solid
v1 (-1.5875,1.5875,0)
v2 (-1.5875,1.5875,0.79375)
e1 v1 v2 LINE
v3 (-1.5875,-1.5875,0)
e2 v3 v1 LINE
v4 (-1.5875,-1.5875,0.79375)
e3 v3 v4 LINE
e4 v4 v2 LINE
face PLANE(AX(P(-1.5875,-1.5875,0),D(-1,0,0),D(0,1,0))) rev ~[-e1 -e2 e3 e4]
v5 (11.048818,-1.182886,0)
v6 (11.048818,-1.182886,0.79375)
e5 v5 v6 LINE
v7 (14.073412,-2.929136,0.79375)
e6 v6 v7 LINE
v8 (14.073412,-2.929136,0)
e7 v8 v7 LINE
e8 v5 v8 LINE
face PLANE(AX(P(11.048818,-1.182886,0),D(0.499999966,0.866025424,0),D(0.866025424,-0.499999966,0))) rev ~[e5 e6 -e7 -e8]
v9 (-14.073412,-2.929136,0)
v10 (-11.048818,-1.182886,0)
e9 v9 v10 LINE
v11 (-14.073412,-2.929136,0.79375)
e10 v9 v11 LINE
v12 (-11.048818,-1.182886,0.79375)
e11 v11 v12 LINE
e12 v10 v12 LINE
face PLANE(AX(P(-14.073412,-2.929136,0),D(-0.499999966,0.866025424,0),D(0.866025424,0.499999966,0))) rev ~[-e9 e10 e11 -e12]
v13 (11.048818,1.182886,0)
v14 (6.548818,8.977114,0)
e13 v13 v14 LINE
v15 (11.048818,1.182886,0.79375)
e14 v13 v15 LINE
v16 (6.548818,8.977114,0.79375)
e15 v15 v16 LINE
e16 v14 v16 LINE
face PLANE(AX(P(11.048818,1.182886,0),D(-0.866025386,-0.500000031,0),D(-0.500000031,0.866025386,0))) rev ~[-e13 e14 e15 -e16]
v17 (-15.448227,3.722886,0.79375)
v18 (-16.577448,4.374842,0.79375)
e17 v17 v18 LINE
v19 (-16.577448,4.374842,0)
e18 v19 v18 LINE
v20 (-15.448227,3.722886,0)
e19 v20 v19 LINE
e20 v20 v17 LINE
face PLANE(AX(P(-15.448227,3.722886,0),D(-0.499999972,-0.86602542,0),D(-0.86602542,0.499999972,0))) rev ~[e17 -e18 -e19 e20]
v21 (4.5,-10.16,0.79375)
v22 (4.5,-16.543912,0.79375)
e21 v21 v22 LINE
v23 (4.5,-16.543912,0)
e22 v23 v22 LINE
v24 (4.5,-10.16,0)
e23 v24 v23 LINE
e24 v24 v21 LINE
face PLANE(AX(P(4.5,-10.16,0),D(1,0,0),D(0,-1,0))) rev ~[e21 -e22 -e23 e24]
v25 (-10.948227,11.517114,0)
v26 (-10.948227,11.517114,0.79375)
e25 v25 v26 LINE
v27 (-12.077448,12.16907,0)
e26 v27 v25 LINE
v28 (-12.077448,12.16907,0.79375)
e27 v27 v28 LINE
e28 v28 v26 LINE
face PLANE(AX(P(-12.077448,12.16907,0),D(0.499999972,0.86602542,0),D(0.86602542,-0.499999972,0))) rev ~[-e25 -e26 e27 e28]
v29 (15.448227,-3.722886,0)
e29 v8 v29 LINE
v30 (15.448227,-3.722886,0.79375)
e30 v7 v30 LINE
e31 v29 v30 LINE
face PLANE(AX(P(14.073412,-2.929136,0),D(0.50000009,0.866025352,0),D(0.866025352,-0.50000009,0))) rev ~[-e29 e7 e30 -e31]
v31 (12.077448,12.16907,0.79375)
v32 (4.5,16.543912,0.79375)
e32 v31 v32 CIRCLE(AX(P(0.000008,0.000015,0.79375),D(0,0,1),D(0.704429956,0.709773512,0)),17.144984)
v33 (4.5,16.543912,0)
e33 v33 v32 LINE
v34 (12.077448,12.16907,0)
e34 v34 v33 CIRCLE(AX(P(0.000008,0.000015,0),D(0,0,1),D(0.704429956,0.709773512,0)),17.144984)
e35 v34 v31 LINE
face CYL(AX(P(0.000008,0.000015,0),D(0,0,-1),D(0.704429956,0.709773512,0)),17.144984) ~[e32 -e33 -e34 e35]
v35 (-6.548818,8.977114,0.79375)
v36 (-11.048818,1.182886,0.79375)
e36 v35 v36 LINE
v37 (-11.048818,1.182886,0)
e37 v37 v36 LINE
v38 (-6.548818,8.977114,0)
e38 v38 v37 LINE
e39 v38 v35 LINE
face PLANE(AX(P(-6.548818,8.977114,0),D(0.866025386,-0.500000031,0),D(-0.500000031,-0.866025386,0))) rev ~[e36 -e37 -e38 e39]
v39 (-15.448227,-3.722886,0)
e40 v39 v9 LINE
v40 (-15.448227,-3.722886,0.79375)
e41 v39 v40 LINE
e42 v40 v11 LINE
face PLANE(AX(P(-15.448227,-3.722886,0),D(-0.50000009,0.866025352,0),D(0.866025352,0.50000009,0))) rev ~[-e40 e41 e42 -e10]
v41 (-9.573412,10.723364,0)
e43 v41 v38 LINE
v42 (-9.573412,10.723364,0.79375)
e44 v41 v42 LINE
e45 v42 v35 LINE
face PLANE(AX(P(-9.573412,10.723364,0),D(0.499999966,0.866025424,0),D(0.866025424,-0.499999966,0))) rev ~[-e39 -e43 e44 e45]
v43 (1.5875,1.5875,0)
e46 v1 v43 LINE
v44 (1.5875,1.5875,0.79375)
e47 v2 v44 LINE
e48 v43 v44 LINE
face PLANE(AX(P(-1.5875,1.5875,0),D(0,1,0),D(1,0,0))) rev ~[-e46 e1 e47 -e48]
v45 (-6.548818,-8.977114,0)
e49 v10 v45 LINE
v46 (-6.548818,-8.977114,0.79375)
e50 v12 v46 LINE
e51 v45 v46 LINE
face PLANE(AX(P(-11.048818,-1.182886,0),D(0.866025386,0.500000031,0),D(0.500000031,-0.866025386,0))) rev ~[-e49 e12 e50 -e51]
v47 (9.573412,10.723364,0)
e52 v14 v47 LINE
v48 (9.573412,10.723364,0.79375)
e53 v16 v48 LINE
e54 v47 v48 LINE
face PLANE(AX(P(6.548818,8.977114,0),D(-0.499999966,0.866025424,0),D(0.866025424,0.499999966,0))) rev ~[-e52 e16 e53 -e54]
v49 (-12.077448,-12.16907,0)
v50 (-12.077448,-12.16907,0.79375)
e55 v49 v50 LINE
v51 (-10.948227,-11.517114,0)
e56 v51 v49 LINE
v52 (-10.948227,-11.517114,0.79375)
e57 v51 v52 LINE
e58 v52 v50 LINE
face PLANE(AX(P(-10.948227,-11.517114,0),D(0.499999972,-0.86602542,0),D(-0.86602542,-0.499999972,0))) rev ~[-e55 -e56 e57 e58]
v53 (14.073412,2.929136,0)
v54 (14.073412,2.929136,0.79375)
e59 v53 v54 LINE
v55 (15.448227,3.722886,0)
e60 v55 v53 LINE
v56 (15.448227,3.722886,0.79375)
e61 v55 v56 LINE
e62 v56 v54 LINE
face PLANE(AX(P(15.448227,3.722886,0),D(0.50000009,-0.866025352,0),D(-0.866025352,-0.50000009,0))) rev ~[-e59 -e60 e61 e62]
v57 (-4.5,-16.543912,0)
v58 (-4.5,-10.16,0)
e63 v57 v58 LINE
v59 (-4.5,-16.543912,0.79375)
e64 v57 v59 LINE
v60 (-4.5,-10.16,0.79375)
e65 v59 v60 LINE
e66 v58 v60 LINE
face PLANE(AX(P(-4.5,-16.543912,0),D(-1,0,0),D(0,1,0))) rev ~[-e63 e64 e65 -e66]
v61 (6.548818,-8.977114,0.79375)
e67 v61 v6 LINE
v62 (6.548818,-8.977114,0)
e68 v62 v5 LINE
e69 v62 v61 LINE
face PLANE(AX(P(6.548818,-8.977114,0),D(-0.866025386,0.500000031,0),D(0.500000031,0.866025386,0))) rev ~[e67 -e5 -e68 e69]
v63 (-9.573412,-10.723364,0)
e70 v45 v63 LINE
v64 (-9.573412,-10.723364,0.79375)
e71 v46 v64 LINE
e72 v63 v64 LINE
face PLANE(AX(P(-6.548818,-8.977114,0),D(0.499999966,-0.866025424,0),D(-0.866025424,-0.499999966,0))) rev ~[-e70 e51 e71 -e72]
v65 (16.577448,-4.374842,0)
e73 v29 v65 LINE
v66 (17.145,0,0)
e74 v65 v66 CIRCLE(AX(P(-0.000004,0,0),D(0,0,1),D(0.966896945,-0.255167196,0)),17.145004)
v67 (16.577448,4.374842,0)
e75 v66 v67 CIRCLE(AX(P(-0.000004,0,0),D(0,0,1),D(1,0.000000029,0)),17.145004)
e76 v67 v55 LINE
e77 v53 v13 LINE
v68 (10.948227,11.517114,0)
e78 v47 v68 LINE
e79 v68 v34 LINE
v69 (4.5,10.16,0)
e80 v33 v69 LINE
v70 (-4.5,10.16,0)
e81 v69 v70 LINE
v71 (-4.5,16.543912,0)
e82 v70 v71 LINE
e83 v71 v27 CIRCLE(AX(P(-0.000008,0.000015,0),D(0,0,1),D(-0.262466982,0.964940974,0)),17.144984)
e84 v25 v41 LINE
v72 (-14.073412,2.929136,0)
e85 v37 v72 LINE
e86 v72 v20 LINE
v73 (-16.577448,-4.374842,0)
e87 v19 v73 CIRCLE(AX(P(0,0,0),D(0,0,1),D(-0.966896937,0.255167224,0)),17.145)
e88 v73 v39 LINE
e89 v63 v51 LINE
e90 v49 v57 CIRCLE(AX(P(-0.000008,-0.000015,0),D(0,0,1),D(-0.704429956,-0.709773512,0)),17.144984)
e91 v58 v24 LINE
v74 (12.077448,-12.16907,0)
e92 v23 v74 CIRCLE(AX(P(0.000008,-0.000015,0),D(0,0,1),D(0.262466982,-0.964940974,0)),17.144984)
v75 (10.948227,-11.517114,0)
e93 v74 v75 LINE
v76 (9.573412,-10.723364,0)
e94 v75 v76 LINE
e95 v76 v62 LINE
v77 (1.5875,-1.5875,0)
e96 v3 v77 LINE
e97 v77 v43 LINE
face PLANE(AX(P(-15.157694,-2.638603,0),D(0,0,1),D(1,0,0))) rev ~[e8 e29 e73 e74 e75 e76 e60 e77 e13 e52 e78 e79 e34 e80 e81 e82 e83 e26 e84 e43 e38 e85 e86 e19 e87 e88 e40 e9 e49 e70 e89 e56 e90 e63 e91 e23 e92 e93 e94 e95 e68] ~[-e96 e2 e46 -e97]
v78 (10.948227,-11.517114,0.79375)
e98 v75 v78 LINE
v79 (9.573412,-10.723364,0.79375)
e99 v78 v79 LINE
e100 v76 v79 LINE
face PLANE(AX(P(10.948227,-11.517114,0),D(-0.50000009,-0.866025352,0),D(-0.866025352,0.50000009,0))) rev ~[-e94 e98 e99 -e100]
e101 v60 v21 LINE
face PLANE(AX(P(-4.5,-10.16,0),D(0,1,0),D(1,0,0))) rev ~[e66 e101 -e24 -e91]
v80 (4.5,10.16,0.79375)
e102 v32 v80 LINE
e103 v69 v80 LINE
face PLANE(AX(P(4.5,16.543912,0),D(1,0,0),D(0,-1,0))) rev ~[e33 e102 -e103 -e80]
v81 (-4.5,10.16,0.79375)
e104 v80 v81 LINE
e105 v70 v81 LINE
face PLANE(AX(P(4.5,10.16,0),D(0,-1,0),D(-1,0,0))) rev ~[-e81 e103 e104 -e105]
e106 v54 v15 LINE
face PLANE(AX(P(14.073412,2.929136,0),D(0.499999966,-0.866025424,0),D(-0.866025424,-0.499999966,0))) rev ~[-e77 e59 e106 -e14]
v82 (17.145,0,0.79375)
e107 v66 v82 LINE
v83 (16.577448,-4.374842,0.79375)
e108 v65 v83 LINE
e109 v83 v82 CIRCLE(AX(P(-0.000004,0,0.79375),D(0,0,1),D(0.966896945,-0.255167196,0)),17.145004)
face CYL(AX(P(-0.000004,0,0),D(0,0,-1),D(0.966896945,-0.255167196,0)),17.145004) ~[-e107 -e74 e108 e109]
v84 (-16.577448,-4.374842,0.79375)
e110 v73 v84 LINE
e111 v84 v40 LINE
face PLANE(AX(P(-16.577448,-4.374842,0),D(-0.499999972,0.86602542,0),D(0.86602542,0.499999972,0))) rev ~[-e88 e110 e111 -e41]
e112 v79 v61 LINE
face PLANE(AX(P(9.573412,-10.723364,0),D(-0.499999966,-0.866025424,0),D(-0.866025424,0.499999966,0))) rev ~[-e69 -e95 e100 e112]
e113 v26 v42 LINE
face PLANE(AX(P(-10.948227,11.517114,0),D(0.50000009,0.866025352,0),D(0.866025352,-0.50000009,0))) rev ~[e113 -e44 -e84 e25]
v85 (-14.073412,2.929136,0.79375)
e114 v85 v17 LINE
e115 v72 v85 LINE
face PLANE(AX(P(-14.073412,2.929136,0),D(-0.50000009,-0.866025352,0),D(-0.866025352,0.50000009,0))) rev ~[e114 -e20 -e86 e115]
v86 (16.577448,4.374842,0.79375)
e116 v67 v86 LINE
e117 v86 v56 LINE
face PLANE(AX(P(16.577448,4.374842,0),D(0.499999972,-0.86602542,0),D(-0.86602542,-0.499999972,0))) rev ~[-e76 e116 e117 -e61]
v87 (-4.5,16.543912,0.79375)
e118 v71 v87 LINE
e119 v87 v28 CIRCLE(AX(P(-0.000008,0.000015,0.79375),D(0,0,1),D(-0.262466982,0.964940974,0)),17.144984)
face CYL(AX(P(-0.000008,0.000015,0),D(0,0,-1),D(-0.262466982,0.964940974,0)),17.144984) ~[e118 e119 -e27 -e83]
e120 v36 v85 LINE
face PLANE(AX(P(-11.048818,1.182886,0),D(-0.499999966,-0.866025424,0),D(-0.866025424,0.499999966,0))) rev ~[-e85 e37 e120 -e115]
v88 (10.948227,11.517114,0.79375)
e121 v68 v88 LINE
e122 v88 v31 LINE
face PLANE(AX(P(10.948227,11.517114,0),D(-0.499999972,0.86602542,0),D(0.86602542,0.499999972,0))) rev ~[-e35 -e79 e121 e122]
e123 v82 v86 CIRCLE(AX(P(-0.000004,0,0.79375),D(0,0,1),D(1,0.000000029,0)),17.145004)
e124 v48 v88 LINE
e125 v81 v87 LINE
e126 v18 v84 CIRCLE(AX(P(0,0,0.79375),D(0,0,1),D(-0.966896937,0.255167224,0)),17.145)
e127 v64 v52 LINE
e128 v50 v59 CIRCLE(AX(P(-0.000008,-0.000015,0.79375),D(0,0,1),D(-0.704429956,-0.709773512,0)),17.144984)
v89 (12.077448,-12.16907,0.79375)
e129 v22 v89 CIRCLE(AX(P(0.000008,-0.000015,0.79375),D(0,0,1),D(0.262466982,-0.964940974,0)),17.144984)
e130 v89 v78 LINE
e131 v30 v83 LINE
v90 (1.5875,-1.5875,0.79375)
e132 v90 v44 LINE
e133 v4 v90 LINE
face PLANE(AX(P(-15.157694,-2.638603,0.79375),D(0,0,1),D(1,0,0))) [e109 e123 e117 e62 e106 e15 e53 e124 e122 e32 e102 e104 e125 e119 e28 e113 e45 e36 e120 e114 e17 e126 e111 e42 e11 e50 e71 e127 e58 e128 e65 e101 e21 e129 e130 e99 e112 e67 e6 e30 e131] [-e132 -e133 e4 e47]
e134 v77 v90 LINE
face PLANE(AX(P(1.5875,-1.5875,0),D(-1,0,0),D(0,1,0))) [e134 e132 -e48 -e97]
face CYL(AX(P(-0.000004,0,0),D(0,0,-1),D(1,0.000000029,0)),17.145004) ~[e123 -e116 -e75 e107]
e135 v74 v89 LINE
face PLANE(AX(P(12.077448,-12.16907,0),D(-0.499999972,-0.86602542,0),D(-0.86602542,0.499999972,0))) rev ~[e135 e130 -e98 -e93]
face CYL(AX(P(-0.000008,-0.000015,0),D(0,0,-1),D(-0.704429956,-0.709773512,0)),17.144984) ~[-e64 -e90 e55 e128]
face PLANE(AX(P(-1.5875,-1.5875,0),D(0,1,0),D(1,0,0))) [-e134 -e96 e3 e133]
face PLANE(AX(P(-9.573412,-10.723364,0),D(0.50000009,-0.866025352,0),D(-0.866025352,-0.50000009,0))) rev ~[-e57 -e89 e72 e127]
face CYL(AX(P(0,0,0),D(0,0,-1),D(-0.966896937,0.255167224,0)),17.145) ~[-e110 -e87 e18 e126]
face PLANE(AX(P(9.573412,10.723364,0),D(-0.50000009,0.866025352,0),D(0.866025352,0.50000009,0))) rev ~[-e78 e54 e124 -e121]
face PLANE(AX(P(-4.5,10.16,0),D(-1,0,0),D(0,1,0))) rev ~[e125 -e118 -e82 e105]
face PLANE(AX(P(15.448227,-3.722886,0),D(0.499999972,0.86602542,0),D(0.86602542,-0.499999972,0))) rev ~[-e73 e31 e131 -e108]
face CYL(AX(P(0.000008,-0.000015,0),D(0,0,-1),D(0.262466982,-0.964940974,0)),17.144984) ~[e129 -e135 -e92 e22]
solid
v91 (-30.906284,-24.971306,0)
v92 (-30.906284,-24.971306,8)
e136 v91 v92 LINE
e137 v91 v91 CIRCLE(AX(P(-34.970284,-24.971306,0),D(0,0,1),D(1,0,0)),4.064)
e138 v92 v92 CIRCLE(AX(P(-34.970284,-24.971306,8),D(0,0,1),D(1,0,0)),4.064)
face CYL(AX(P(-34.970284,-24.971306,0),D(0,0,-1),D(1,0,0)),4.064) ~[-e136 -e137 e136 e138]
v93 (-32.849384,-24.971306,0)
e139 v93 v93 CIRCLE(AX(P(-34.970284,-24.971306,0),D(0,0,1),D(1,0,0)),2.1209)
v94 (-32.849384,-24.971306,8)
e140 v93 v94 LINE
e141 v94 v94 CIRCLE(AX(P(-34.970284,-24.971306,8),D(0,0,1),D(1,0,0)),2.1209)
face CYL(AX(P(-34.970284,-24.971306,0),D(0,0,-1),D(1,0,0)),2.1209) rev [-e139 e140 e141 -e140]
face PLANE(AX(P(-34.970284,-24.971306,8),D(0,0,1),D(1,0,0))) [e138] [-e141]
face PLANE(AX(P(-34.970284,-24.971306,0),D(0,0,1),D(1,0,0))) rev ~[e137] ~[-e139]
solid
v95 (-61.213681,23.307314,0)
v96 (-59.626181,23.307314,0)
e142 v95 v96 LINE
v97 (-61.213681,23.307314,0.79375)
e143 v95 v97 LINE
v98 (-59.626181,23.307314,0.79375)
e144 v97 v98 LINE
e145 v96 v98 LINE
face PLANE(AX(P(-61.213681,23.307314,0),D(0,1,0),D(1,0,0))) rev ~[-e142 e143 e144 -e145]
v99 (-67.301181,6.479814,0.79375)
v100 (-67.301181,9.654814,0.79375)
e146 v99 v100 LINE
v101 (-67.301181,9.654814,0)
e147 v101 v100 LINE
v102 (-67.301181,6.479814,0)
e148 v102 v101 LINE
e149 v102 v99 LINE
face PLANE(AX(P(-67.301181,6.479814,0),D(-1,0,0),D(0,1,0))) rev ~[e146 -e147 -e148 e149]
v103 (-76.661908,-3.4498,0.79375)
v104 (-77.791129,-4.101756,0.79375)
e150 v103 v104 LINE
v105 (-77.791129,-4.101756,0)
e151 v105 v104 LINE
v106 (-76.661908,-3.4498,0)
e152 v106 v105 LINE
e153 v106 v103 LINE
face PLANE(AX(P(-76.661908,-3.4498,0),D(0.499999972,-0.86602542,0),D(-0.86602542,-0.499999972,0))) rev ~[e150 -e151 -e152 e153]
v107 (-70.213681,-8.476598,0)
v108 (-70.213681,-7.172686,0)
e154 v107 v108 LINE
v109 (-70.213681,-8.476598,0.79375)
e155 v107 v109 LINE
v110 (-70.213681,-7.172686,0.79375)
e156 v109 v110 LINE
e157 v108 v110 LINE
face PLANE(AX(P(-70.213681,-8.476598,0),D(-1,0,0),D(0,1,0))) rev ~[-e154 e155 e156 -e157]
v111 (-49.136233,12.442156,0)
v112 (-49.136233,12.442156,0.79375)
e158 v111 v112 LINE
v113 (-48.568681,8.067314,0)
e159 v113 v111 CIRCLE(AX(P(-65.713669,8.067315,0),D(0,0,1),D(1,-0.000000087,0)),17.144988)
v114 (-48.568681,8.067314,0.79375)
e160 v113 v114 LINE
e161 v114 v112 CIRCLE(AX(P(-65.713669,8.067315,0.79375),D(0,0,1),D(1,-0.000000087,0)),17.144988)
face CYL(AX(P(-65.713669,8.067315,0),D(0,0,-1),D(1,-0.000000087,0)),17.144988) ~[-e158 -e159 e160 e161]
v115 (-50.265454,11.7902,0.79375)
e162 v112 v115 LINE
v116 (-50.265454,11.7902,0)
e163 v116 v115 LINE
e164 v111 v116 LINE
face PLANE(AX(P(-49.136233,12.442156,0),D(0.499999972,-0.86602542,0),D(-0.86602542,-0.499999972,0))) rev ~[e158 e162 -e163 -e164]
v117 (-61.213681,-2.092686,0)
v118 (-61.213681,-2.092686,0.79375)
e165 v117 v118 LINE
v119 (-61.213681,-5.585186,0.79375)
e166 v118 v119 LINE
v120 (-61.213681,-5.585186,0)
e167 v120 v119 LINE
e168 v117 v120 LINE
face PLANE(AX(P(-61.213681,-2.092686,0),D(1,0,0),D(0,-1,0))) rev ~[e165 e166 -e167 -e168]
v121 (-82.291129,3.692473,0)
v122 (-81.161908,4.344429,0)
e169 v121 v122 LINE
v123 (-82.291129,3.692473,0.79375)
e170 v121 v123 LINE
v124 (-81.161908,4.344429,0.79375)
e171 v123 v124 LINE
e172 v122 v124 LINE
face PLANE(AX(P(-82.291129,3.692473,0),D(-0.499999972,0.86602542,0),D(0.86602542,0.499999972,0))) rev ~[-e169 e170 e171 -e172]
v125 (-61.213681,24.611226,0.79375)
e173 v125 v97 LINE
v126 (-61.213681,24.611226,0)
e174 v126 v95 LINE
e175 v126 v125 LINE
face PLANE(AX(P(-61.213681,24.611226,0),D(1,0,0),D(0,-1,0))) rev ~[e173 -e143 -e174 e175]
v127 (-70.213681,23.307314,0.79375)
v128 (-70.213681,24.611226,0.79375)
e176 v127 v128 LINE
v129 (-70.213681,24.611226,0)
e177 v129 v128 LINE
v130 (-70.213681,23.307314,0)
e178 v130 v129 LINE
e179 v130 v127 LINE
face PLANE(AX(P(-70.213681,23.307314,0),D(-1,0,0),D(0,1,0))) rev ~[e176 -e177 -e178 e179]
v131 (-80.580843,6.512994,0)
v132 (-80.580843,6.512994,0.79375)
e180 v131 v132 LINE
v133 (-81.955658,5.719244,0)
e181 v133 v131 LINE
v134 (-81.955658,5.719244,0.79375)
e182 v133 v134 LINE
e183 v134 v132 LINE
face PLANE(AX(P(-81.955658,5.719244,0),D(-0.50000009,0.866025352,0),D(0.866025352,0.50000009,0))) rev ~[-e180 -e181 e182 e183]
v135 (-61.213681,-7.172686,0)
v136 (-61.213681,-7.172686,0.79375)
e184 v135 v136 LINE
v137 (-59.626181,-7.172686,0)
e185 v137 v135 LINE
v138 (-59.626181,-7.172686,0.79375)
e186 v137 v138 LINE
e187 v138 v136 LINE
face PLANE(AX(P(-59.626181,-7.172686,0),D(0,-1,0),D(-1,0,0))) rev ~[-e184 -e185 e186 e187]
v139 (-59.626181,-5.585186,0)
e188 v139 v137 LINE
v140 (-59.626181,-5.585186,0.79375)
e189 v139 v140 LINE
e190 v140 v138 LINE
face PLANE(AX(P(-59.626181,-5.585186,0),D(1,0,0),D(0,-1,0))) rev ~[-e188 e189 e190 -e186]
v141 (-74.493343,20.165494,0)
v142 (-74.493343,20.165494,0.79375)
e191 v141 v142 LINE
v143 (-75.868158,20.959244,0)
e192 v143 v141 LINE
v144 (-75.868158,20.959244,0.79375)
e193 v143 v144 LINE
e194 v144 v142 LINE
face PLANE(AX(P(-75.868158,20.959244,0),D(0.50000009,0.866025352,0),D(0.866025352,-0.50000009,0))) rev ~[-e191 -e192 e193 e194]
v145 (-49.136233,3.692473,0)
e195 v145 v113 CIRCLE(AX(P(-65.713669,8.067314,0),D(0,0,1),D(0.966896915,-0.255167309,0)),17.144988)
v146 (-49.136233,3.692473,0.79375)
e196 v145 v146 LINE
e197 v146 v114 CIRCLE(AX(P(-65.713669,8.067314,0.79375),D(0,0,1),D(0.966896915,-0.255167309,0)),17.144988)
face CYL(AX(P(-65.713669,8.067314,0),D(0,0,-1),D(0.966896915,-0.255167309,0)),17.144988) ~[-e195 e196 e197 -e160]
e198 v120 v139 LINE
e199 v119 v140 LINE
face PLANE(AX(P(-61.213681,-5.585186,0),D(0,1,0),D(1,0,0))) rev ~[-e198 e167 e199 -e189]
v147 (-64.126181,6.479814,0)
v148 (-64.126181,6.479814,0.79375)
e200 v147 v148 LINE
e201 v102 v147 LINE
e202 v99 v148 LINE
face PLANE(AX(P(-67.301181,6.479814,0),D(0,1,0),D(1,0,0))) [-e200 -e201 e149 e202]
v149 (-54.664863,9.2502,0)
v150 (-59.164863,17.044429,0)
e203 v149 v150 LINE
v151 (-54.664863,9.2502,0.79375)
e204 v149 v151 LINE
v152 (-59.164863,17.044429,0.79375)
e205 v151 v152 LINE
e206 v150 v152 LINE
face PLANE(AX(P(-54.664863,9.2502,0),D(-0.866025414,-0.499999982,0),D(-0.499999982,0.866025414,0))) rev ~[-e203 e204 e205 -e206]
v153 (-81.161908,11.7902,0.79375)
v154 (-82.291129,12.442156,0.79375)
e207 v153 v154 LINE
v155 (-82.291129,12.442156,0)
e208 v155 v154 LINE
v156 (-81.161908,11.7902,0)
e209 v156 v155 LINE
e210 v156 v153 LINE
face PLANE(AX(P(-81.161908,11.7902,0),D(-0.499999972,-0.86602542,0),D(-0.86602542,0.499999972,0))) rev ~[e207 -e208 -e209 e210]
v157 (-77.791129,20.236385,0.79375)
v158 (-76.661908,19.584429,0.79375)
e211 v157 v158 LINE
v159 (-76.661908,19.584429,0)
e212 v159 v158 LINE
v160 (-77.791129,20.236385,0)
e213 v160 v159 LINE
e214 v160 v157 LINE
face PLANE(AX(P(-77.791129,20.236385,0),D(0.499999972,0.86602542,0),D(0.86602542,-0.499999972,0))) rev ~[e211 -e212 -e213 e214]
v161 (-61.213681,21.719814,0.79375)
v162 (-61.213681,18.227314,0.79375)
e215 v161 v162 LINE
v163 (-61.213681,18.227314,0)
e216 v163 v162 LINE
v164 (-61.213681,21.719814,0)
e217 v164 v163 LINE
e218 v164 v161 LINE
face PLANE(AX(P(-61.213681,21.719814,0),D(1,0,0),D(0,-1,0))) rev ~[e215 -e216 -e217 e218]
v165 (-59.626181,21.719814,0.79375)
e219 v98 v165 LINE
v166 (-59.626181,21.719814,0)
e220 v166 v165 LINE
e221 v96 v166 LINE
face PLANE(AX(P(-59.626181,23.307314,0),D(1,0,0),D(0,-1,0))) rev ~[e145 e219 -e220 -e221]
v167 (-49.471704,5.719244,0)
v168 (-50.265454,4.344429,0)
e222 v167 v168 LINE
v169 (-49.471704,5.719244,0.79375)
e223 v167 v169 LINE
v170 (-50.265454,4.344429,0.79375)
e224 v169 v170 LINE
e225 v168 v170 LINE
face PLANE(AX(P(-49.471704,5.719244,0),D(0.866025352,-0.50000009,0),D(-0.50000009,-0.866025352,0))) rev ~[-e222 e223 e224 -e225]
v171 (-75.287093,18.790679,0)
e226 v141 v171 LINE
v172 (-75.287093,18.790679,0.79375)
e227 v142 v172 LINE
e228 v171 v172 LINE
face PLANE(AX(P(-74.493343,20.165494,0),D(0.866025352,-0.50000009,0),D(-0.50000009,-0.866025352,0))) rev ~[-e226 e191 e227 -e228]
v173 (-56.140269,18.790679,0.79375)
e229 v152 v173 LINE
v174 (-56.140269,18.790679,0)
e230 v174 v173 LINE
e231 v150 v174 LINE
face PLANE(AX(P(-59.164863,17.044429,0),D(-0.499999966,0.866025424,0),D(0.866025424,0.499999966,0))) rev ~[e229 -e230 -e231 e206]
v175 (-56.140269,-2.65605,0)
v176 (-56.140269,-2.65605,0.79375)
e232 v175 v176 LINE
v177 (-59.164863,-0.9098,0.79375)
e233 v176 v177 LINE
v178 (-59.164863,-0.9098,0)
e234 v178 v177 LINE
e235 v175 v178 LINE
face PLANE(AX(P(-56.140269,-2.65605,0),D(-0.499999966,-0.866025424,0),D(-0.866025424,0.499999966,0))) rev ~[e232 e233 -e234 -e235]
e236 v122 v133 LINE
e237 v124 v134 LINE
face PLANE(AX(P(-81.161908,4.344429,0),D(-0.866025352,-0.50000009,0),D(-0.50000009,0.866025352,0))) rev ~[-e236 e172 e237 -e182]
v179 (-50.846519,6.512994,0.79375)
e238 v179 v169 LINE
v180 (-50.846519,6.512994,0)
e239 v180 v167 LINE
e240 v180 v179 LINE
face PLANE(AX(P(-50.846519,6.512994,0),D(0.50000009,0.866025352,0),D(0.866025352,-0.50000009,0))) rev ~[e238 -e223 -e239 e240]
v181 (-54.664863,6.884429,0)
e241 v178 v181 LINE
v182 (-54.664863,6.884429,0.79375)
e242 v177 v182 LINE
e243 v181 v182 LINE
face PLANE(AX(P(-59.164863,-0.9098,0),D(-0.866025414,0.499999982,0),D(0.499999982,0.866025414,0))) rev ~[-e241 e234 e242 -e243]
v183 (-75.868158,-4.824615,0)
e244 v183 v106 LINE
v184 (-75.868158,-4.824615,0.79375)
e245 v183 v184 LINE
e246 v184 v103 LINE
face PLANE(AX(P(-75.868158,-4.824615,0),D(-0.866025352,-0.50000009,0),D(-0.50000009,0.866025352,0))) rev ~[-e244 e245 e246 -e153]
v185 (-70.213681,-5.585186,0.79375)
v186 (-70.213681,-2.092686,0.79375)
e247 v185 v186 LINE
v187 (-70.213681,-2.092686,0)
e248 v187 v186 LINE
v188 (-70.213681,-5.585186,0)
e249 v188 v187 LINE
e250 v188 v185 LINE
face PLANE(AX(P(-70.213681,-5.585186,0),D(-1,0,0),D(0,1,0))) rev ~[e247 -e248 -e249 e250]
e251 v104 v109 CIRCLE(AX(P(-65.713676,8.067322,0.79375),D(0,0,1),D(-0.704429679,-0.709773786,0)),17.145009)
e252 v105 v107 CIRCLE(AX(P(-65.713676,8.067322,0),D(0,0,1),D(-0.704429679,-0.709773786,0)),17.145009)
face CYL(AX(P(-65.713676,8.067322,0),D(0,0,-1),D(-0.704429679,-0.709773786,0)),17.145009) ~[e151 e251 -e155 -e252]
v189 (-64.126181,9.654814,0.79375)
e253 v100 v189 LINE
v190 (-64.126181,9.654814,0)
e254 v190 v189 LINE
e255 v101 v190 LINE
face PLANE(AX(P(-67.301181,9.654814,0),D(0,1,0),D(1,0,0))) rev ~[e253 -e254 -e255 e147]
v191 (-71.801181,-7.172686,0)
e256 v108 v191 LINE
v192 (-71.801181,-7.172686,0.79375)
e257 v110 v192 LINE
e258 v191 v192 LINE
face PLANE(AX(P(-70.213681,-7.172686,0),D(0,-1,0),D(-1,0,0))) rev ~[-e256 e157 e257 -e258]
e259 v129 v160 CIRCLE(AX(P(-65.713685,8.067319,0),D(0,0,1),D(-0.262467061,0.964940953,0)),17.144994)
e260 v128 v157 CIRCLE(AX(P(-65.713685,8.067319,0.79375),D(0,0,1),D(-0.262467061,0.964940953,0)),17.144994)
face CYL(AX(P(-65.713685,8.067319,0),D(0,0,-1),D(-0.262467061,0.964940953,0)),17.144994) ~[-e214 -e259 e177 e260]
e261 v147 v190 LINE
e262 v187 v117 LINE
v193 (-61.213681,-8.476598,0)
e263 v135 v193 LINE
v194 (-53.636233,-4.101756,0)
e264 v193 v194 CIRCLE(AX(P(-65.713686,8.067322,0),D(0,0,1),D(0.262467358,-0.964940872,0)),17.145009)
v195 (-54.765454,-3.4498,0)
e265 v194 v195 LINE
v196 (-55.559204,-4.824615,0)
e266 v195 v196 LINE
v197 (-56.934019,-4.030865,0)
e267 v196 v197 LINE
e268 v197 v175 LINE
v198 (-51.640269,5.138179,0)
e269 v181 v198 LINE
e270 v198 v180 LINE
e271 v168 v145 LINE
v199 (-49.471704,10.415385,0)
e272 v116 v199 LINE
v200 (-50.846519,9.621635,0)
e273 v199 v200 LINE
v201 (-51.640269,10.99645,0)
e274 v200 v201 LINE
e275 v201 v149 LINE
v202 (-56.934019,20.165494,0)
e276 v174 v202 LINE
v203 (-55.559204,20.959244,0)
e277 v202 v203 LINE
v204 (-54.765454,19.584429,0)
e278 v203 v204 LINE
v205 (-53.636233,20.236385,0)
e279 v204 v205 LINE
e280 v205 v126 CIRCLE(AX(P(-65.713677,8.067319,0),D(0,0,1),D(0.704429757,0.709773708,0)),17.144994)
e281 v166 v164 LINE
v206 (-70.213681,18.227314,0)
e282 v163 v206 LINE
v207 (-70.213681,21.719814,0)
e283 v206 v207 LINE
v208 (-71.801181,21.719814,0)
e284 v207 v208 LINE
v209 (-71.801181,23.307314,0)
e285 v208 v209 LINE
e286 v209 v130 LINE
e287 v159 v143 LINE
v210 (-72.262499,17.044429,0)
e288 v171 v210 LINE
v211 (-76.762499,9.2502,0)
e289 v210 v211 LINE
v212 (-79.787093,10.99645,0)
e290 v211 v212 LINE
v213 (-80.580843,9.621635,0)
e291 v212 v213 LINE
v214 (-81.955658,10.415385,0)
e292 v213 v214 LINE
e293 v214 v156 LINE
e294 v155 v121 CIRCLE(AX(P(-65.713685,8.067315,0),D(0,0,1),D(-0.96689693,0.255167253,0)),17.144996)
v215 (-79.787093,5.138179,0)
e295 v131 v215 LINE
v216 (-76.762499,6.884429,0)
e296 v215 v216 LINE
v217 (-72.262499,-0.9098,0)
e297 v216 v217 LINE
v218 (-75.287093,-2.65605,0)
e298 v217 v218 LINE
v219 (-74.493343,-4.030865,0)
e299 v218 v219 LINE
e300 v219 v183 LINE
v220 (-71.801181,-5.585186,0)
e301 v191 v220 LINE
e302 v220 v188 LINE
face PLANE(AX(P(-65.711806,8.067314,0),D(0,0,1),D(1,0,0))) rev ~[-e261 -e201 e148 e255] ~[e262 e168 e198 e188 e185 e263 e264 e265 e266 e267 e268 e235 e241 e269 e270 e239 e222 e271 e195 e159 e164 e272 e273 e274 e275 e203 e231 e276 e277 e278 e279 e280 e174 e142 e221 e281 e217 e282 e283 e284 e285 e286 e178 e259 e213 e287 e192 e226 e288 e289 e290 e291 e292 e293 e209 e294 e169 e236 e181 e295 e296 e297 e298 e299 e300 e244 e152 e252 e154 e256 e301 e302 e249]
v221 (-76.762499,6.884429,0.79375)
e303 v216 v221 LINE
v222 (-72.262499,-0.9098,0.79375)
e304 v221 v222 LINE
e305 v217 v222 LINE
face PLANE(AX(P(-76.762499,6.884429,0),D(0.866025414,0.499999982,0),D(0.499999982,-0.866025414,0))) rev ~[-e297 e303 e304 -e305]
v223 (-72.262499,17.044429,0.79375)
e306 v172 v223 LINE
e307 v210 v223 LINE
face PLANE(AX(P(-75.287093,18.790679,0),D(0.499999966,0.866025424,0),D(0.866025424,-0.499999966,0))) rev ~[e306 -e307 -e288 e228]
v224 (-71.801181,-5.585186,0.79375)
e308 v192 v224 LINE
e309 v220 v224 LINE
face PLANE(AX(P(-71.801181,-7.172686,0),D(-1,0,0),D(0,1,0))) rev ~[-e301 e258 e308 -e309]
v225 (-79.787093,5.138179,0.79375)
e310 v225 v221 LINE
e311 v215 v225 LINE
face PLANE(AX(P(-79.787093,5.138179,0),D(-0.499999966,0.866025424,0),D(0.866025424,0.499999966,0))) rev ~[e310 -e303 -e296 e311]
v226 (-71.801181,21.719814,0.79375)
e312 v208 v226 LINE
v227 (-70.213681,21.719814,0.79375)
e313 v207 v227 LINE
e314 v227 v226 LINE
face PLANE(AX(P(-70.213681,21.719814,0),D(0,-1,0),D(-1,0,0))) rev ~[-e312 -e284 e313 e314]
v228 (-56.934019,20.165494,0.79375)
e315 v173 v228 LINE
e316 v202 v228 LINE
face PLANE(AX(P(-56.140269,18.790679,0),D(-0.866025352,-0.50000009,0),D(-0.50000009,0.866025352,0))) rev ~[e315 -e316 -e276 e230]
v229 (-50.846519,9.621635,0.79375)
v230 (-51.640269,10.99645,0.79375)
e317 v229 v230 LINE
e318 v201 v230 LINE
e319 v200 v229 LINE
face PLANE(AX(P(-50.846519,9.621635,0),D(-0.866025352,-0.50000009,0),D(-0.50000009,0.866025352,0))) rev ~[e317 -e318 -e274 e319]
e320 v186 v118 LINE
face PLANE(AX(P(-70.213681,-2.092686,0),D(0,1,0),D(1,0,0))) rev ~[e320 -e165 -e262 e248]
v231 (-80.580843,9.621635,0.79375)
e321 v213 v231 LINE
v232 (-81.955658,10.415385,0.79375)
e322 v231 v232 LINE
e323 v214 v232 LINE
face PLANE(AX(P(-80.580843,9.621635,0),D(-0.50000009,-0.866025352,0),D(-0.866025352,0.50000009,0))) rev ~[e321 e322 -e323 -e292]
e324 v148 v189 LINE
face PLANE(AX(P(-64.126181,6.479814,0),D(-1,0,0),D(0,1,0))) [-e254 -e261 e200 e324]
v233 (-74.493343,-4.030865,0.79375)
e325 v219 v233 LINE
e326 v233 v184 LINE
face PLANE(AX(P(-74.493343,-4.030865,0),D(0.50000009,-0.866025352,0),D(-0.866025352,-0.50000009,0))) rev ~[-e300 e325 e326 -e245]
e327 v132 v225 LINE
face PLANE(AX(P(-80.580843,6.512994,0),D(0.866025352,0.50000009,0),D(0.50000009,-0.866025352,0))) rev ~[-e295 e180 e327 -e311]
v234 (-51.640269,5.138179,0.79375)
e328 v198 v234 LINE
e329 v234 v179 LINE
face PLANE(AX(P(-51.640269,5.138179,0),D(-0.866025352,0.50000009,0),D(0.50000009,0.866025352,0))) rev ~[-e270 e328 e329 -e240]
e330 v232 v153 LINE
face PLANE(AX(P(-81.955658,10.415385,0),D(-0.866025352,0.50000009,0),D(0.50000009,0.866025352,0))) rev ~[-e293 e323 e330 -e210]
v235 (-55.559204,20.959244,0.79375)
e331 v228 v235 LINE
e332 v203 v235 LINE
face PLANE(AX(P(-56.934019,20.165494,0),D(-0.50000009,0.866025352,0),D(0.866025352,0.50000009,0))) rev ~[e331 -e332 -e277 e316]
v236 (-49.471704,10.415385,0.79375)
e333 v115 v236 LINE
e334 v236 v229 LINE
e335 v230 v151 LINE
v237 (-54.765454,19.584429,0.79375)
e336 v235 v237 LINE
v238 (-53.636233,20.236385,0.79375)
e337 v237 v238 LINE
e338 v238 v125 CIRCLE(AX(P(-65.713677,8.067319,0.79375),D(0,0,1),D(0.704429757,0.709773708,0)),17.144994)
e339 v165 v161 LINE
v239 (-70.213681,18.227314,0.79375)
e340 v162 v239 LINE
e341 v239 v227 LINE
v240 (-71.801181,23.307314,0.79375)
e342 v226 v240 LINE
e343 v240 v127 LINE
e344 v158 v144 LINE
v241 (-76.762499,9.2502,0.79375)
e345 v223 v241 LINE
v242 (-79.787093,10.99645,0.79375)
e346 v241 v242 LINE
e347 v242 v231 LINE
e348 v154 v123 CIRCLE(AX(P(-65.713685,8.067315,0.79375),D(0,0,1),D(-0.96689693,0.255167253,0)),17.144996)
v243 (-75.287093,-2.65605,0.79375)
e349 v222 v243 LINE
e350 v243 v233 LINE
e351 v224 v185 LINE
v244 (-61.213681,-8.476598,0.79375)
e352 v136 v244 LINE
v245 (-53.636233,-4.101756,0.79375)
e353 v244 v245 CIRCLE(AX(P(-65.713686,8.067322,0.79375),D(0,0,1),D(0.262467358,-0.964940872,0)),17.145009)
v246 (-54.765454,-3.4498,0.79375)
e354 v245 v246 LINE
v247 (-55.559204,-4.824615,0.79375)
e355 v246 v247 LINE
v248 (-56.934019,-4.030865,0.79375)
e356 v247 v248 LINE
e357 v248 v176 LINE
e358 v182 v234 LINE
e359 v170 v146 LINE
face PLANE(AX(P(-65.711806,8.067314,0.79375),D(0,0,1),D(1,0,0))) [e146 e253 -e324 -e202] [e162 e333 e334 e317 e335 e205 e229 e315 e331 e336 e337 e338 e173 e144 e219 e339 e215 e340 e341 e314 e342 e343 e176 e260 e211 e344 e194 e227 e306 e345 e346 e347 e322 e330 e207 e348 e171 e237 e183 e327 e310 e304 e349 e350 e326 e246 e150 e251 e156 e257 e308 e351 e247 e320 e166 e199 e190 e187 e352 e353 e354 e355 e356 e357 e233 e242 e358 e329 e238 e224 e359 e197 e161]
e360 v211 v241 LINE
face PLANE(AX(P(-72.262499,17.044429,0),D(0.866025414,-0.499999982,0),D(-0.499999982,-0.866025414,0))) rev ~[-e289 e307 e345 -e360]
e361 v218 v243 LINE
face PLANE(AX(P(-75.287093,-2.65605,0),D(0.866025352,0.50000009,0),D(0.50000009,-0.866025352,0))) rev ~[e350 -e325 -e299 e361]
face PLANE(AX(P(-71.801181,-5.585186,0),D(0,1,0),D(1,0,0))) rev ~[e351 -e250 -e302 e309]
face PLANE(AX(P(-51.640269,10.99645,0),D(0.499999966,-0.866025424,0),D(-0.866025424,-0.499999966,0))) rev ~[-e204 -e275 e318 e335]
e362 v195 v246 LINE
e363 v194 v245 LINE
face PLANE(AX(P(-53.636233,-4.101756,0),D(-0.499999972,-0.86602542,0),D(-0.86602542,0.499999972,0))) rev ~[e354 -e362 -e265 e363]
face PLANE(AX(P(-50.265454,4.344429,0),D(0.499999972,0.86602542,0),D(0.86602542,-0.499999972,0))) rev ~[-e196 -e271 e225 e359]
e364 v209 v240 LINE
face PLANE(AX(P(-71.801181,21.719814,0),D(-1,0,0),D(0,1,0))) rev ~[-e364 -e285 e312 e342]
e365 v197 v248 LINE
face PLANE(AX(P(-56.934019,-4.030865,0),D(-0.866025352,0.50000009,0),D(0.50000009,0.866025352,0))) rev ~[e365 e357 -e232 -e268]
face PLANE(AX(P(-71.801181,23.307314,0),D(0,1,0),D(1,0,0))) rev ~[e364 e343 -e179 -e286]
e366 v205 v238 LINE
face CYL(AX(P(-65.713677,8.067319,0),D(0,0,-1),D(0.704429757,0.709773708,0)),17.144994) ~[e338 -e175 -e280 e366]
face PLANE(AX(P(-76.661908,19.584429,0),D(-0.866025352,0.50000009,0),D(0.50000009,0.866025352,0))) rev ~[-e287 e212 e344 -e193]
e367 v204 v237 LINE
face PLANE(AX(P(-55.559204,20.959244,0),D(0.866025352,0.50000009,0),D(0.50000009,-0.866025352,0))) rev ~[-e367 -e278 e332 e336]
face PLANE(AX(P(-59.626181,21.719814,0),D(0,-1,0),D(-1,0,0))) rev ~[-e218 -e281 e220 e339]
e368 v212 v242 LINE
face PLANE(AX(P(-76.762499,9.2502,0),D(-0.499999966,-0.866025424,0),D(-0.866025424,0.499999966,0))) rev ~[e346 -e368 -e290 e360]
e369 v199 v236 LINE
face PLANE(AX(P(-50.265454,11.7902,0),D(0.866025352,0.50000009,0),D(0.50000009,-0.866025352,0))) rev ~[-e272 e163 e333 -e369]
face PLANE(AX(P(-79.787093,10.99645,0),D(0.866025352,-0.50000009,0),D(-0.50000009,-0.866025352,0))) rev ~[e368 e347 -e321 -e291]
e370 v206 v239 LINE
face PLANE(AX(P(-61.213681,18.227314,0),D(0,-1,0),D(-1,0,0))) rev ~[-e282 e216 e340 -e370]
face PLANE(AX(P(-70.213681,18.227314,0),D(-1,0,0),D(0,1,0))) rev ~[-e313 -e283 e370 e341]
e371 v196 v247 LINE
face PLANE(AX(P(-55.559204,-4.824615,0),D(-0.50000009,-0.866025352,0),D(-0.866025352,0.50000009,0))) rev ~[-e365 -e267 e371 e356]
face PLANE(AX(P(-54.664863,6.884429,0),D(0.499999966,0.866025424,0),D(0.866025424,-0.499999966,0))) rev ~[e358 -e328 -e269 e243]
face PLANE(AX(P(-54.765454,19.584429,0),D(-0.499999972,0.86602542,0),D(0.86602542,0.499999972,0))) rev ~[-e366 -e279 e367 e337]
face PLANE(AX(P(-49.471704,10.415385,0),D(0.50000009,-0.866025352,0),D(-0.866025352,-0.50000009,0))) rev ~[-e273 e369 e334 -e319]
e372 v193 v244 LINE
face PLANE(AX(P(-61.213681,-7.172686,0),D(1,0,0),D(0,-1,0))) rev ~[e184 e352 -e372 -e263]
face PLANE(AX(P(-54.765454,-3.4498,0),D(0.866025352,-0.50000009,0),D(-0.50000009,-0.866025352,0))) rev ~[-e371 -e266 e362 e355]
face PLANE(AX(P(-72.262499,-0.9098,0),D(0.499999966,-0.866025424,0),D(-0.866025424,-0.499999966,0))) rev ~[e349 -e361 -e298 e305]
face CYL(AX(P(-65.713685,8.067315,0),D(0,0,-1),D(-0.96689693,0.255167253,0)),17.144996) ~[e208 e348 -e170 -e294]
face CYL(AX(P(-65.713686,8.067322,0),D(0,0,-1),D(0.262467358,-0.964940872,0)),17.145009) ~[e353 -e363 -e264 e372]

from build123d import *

# Parameters (mm, degrees)
F0_R     = 4.064
F0_R_2   = 2.1209
F1_DEPTH = 8
F0_W     = 1.5875
F0_H     = 1.5875
F0_W_2   = 3.175
F0_H_2   = 3.175
F2_DEPTH = 0.79375
F3_DEPTH = 0.79375


with BuildPart() as f1:
    # F0 (on Top) → F1 (new body)
    with BuildSketch(Plane.XY):
        with Locations((-34.970284, -24.971306)):
            Circle(F0_R)
        with Locations((-34.970284, -24.971306)):
            Circle(F0_R_2, mode=Mode.SUBTRACT)
    extrude(amount=F1_DEPTH)


with BuildPart() as f2:
    # F0 (on Top) → F2 (new body)
    with BuildSketch(Plane.XY):
        Polygon((-16.241977, -2.34807), (-15.448227, -3.722886), (-14.073412, -2.929136), (-14.867162, -1.55432), align=None)
        with Locations((-5.29375, -14.44625)):
            Rectangle(F0_W, F0_H)
        with Locations((5.29375, -14.44625)):
            Rectangle(F0_W, F0_H)
        Polygon((10.154477, -12.89193), (10.948227, -11.517114), (9.573412, -10.723364), (8.779662, -12.09818), align=None)
        Polygon((14.073412, -2.929136), (15.448227, -3.722886), (16.241977, -2.34807), (14.867162, -1.55432), align=None)
        Polygon((16.241977, 2.34807), (15.448227, 3.722886), (14.073412, 2.929136), (14.867162, 1.55432), align=None)
        Polygon((-10.154477, 12.89193), (-10.948227, 11.517114), (-9.573412, 10.723364), (-8.779662, 12.09818), align=None)
        with BuildLine():
            ThreePointArc((16.577448, -4.374842), (17.00252, -2.205751), (17.145, 0))
            ThreePointArc((17.145, 0), (17.00252, 2.205751), (16.577448, 4.374842))
            Line((16.577448, 4.374842), (15.448227, 3.722886))
            Line((15.448227, 3.722886), (16.241977, 2.34807))
            Line((16.241977, 2.34807), (14.867162, 1.55432))
            Line((14.867162, 1.55432), (14.073412, 2.929136))
            Line((14.073412, 2.929136), (11.048818, 1.182886))
            Line((11.048818, 1.182886), (6.548818, 8.977114))
            Line((6.548818, 8.977114), (9.573412, 10.723364))
            Line((9.573412, 10.723364), (8.779662, 12.09818))
            Line((8.779662, 12.09818), (10.154477, 12.89193))
            Line((10.154477, 12.89193), (10.948227, 11.517114))
            Line((10.948227, 11.517114), (12.077448, 12.16907))
            ThreePointArc((12.077448, 12.16907), (8.5725, 14.848006), (4.5, 16.543912))
            Line((4.5, 16.543912), (4.5, 15.24))
            Line((4.5, 15.24), (6.0875, 15.24))
            Line((6.0875, 15.24), (6.0875, 13.6525))
            Line((6.0875, 13.6525), (4.5, 13.6525))
            Line((4.5, 13.6525), (4.5, 10.16))
            Line((4.5, 10.16), (-4.5, 10.16))
            Line((-4.5, 10.16), (-4.5, 13.6525))
            Line((-4.5, 13.6525), (-6.0875, 13.6525))
            Line((-6.0875, 13.6525), (-6.0875, 15.24))
            Line((-6.0875, 15.24), (-4.5, 15.24))
            Line((-4.5, 15.24), (-4.5, 16.543912))
            ThreePointArc((-4.5, 16.543912), (-8.5725, 14.848006), (-12.077448, 12.16907))
            Line((-12.077448, 12.16907), (-10.948227, 11.517114))
            Line((-10.948227, 11.517114), (-10.154477, 12.89193))
            Line((-10.154477, 12.89193), (-8.779662, 12.09818))
            Line((-8.779662, 12.09818), (-9.573412, 10.723364))
            Line((-9.573412, 10.723364), (-6.548818, 8.977114))
            Line((-6.548818, 8.977114), (-11.048818, 1.182886))
            Line((-11.048818, 1.182886), (-14.073412, 2.929136))
            Line((-14.073412, 2.929136), (-14.867162, 1.55432))
            Line((-14.867162, 1.55432), (-16.241977, 2.34807))
            Line((-16.241977, 2.34807), (-15.448227, 3.722886))
            Line((-15.448227, 3.722886), (-16.577448, 4.374842))
            ThreePointArc((-16.577448, 4.374842), (-17.145, 0), (-16.577448, -4.374842))
            Line((-16.577448, -4.374842), (-15.448227, -3.722886))
            Line((-15.448227, -3.722886), (-16.241977, -2.34807))
            Line((-16.241977, -2.34807), (-14.867162, -1.55432))
            Line((-14.867162, -1.55432), (-14.073412, -2.929136))
            Line((-14.073412, -2.929136), (-11.048818, -1.182886))
            Line((-11.048818, -1.182886), (-6.548818, -8.977114))
            Line((-6.548818, -8.977114), (-9.573412, -10.723364))
            Line((-9.573412, -10.723364), (-8.779662, -12.09818))
            Line((-8.779662, -12.09818), (-10.154477, -12.89193))
            Line((-10.154477, -12.89193), (-10.948227, -11.517114))
            Line((-10.948227, -11.517114), (-12.077448, -12.16907))
            ThreePointArc((-12.077448, -12.16907), (-8.5725, -14.848006), (-4.5, -16.543912))
            Line((-4.5, -16.543912), (-4.5, -15.24))
            Line((-4.5, -15.24), (-6.0875, -15.24))
            Line((-6.0875, -15.24), (-6.0875, -13.6525))
            Line((-6.0875, -13.6525), (-4.5, -13.6525))
            Line((-4.5, -13.6525), (-4.5, -10.16))
            Line((-4.5, -10.16), (4.5, -10.16))
            Line((4.5, -10.16), (4.5, -13.6525))
            Line((4.5, -13.6525), (6.0875, -13.6525))
            Line((6.0875, -13.6525), (6.0875, -15.24))
            Line((6.0875, -15.24), (4.5, -15.24))
            Line((4.5, -15.24), (4.5, -16.543912))
            ThreePointArc((4.5, -16.543912), (8.5725, -14.848006), (12.077448, -12.16907))
            Line((12.077448, -12.16907), (10.948227, -11.517114))
            Line((10.948227, -11.517114), (10.154477, -12.89193))
            Line((10.154477, -12.89193), (8.779662, -12.09818))
            Line((8.779662, -12.09818), (9.573412, -10.723364))
            Line((9.573412, -10.723364), (6.548818, -8.977114))
            Line((6.548818, -8.977114), (11.048818, -1.182886))
            Line((11.048818, -1.182886), (14.073412, -2.929136))
            Line((14.073412, -2.929136), (14.867162, -1.55432))
            Line((14.867162, -1.55432), (16.241977, -2.34807))
            Line((16.241977, -2.34807), (15.448227, -3.722886))
            Line((15.448227, -3.722886), (16.577448, -4.374842))
        make_face()
        Rectangle(F0_W_2, F0_H_2, mode=Mode.SUBTRACT)
        with Locations((-5.29375, 14.44625)):
            Rectangle(F0_W, F0_H)
        with Locations((5.29375, 14.44625)):
            Rectangle(F0_W, F0_H)
        Polygon((9.573412, 10.723364), (10.948227, 11.517114), (10.154477, 12.89193), (8.779662, 12.09818), align=None)
        Polygon((-14.073412, 2.929136), (-15.448227, 3.722886), (-16.241977, 2.34807), (-14.867162, 1.55432), align=None)
        Polygon((-9.573412, -10.723364), (-10.948227, -11.517114), (-10.154477, -12.89193), (-8.779662, -12.09818), align=None)
    extrude(amount=F2_DEPTH)


with BuildPart() as f3:
    # F0 (on Top) → F3 (new body)
    with BuildSketch(Plane.XY):
        with BuildLine():
            ThreePointArc((-49.136233, 3.692473), (-48.711161, 5.861563), (-48.568681, 8.067314))
            ThreePointArc((-48.568681, 8.067314), (-48.711161, 10.273066), (-49.136233, 12.442156))
            Line((-49.136233, 12.442156), (-50.265454, 11.7902))
            Line((-50.265454, 11.7902), (-49.471704, 10.415385))
            Line((-49.471704, 10.415385), (-50.846519, 9.621635))
            Line((-50.846519, 9.621635), (-51.640269, 10.99645))
            Line((-51.640269, 10.99645), (-54.664863, 9.2502))
            Line((-54.664863, 9.2502), (-59.164863, 17.044429))
            Line((-59.164863, 17.044429), (-56.140269, 18.790679))
            Line((-56.140269, 18.790679), (-56.934019, 20.165494))
            Line((-56.934019, 20.165494), (-55.559204, 20.959244))
            Line((-55.559204, 20.959244), (-54.765454, 19.584429))
            Line((-54.765454, 19.584429), (-53.636233, 20.236385))
            ThreePointArc((-53.636233, 20.236385), (-57.141181, 22.91532), (-61.213681, 24.611226))
            Line((-61.213681, 24.611226), (-61.213681, 23.307314))
            Line((-61.213681, 23.307314), (-59.626181, 23.307314))
            Line((-59.626181, 23.307314), (-59.626181, 21.719814))
            Line((-59.626181, 21.719814), (-61.213681, 21.719814))
            Line((-61.213681, 21.719814), (-61.213681, 18.227314))
            Line((-61.213681, 18.227314), (-70.213681, 18.227314))
            Line((-70.213681, 18.227314), (-70.213681, 21.719814))
            Line((-70.213681, 21.719814), (-71.801181, 21.719814))
            Line((-71.801181, 21.719814), (-71.801181, 23.307314))
            Line((-71.801181, 23.307314), (-70.213681, 23.307314))
            Line((-70.213681, 23.307314), (-70.213681, 24.611226))
            ThreePointArc((-70.213681, 24.611226), (-74.286181, 22.91532), (-77.791129, 20.236385))
            Line((-77.791129, 20.236385), (-76.661908, 19.584429))
            Line((-76.661908, 19.584429), (-75.868158, 20.959244))
            Line((-75.868158, 20.959244), (-74.493343, 20.165494))
            Line((-74.493343, 20.165494), (-75.287093, 18.790679))
            Line((-75.287093, 18.790679), (-72.262499, 17.044429))
            Line((-72.262499, 17.044429), (-76.762499, 9.2502))
            Line((-76.762499, 9.2502), (-79.787093, 10.99645))
            Line((-79.787093, 10.99645), (-80.580843, 9.621635))
            Line((-80.580843, 9.621635), (-81.955658, 10.415385))
            Line((-81.955658, 10.415385), (-81.161908, 11.7902))
            Line((-81.161908, 11.7902), (-82.291129, 12.442156))
            ThreePointArc((-82.291129, 12.442156), (-82.858681, 8.067314), (-82.291129, 3.692473))
            Line((-82.291129, 3.692473), (-81.161908, 4.344429))
            Line((-81.161908, 4.344429), (-81.955658, 5.719244))
            Line((-81.955658, 5.719244), (-80.580843, 6.512994))
            Line((-80.580843, 6.512994), (-79.787093, 5.138179))
            Line((-79.787093, 5.138179), (-76.762499, 6.884429))
            Line((-76.762499, 6.884429), (-72.262499, -0.9098))
            Line((-72.262499, -0.9098), (-75.287093, -2.65605))
            Line((-75.287093, -2.65605), (-74.493343, -4.030865))
            Line((-74.493343, -4.030865), (-75.868158, -4.824615))
            Line((-75.868158, -4.824615), (-76.661908, -3.4498))
            Line((-76.661908, -3.4498), (-77.791129, -4.101756))
            ThreePointArc((-77.791129, -4.101756), (-74.286181, -6.780691), (-70.213681, -8.476598))
            Line((-70.213681, -8.476598), (-70.213681, -7.172686))
            Line((-70.213681, -7.172686), (-71.801181, -7.172686))
            Line((-71.801181, -7.172686), (-71.801181, -5.585186))
            Line((-71.801181, -5.585186), (-70.213681, -5.585186))
            Line((-70.213681, -5.585186), (-70.213681, -2.092686))
            Line((-70.213681, -2.092686), (-61.213681, -2.092686))
            Line((-61.213681, -2.092686), (-61.213681, -5.585186))
            Line((-61.213681, -5.585186), (-59.626181, -5.585186))
            Line((-59.626181, -5.585186), (-59.626181, -7.172686))
            Line((-59.626181, -7.172686), (-61.213681, -7.172686))
            Line((-61.213681, -7.172686), (-61.213681, -8.476598))
            ThreePointArc((-61.213681, -8.476598), (-57.141181, -6.780691), (-53.636233, -4.101756))
            Line((-53.636233, -4.101756), (-54.765454, -3.4498))
            Line((-54.765454, -3.4498), (-55.559204, -4.824615))
            Line((-55.559204, -4.824615), (-56.934019, -4.030865))
            Line((-56.934019, -4.030865), (-56.140269, -2.65605))
            Line((-56.140269, -2.65605), (-59.164863, -0.9098))
            Line((-59.164863, -0.9098), (-54.664863, 6.884429))
            Line((-54.664863, 6.884429), (-51.640269, 5.138179))
            Line((-51.640269, 5.138179), (-50.846519, 6.512994))
            Line((-50.846519, 6.512994), (-49.471704, 5.719244))
            Line((-49.471704, 5.719244), (-50.265454, 4.344429))
            Line((-50.265454, 4.344429), (-49.136233, 3.692473))
        make_face()
        with Locations((-65.713681, 8.067314)):
            Rectangle(F0_W_2, F0_H_2, mode=Mode.SUBTRACT)
    extrude(amount=F3_DEPTH)


solid = Compound([f1.part, f2.part, f3.part])
